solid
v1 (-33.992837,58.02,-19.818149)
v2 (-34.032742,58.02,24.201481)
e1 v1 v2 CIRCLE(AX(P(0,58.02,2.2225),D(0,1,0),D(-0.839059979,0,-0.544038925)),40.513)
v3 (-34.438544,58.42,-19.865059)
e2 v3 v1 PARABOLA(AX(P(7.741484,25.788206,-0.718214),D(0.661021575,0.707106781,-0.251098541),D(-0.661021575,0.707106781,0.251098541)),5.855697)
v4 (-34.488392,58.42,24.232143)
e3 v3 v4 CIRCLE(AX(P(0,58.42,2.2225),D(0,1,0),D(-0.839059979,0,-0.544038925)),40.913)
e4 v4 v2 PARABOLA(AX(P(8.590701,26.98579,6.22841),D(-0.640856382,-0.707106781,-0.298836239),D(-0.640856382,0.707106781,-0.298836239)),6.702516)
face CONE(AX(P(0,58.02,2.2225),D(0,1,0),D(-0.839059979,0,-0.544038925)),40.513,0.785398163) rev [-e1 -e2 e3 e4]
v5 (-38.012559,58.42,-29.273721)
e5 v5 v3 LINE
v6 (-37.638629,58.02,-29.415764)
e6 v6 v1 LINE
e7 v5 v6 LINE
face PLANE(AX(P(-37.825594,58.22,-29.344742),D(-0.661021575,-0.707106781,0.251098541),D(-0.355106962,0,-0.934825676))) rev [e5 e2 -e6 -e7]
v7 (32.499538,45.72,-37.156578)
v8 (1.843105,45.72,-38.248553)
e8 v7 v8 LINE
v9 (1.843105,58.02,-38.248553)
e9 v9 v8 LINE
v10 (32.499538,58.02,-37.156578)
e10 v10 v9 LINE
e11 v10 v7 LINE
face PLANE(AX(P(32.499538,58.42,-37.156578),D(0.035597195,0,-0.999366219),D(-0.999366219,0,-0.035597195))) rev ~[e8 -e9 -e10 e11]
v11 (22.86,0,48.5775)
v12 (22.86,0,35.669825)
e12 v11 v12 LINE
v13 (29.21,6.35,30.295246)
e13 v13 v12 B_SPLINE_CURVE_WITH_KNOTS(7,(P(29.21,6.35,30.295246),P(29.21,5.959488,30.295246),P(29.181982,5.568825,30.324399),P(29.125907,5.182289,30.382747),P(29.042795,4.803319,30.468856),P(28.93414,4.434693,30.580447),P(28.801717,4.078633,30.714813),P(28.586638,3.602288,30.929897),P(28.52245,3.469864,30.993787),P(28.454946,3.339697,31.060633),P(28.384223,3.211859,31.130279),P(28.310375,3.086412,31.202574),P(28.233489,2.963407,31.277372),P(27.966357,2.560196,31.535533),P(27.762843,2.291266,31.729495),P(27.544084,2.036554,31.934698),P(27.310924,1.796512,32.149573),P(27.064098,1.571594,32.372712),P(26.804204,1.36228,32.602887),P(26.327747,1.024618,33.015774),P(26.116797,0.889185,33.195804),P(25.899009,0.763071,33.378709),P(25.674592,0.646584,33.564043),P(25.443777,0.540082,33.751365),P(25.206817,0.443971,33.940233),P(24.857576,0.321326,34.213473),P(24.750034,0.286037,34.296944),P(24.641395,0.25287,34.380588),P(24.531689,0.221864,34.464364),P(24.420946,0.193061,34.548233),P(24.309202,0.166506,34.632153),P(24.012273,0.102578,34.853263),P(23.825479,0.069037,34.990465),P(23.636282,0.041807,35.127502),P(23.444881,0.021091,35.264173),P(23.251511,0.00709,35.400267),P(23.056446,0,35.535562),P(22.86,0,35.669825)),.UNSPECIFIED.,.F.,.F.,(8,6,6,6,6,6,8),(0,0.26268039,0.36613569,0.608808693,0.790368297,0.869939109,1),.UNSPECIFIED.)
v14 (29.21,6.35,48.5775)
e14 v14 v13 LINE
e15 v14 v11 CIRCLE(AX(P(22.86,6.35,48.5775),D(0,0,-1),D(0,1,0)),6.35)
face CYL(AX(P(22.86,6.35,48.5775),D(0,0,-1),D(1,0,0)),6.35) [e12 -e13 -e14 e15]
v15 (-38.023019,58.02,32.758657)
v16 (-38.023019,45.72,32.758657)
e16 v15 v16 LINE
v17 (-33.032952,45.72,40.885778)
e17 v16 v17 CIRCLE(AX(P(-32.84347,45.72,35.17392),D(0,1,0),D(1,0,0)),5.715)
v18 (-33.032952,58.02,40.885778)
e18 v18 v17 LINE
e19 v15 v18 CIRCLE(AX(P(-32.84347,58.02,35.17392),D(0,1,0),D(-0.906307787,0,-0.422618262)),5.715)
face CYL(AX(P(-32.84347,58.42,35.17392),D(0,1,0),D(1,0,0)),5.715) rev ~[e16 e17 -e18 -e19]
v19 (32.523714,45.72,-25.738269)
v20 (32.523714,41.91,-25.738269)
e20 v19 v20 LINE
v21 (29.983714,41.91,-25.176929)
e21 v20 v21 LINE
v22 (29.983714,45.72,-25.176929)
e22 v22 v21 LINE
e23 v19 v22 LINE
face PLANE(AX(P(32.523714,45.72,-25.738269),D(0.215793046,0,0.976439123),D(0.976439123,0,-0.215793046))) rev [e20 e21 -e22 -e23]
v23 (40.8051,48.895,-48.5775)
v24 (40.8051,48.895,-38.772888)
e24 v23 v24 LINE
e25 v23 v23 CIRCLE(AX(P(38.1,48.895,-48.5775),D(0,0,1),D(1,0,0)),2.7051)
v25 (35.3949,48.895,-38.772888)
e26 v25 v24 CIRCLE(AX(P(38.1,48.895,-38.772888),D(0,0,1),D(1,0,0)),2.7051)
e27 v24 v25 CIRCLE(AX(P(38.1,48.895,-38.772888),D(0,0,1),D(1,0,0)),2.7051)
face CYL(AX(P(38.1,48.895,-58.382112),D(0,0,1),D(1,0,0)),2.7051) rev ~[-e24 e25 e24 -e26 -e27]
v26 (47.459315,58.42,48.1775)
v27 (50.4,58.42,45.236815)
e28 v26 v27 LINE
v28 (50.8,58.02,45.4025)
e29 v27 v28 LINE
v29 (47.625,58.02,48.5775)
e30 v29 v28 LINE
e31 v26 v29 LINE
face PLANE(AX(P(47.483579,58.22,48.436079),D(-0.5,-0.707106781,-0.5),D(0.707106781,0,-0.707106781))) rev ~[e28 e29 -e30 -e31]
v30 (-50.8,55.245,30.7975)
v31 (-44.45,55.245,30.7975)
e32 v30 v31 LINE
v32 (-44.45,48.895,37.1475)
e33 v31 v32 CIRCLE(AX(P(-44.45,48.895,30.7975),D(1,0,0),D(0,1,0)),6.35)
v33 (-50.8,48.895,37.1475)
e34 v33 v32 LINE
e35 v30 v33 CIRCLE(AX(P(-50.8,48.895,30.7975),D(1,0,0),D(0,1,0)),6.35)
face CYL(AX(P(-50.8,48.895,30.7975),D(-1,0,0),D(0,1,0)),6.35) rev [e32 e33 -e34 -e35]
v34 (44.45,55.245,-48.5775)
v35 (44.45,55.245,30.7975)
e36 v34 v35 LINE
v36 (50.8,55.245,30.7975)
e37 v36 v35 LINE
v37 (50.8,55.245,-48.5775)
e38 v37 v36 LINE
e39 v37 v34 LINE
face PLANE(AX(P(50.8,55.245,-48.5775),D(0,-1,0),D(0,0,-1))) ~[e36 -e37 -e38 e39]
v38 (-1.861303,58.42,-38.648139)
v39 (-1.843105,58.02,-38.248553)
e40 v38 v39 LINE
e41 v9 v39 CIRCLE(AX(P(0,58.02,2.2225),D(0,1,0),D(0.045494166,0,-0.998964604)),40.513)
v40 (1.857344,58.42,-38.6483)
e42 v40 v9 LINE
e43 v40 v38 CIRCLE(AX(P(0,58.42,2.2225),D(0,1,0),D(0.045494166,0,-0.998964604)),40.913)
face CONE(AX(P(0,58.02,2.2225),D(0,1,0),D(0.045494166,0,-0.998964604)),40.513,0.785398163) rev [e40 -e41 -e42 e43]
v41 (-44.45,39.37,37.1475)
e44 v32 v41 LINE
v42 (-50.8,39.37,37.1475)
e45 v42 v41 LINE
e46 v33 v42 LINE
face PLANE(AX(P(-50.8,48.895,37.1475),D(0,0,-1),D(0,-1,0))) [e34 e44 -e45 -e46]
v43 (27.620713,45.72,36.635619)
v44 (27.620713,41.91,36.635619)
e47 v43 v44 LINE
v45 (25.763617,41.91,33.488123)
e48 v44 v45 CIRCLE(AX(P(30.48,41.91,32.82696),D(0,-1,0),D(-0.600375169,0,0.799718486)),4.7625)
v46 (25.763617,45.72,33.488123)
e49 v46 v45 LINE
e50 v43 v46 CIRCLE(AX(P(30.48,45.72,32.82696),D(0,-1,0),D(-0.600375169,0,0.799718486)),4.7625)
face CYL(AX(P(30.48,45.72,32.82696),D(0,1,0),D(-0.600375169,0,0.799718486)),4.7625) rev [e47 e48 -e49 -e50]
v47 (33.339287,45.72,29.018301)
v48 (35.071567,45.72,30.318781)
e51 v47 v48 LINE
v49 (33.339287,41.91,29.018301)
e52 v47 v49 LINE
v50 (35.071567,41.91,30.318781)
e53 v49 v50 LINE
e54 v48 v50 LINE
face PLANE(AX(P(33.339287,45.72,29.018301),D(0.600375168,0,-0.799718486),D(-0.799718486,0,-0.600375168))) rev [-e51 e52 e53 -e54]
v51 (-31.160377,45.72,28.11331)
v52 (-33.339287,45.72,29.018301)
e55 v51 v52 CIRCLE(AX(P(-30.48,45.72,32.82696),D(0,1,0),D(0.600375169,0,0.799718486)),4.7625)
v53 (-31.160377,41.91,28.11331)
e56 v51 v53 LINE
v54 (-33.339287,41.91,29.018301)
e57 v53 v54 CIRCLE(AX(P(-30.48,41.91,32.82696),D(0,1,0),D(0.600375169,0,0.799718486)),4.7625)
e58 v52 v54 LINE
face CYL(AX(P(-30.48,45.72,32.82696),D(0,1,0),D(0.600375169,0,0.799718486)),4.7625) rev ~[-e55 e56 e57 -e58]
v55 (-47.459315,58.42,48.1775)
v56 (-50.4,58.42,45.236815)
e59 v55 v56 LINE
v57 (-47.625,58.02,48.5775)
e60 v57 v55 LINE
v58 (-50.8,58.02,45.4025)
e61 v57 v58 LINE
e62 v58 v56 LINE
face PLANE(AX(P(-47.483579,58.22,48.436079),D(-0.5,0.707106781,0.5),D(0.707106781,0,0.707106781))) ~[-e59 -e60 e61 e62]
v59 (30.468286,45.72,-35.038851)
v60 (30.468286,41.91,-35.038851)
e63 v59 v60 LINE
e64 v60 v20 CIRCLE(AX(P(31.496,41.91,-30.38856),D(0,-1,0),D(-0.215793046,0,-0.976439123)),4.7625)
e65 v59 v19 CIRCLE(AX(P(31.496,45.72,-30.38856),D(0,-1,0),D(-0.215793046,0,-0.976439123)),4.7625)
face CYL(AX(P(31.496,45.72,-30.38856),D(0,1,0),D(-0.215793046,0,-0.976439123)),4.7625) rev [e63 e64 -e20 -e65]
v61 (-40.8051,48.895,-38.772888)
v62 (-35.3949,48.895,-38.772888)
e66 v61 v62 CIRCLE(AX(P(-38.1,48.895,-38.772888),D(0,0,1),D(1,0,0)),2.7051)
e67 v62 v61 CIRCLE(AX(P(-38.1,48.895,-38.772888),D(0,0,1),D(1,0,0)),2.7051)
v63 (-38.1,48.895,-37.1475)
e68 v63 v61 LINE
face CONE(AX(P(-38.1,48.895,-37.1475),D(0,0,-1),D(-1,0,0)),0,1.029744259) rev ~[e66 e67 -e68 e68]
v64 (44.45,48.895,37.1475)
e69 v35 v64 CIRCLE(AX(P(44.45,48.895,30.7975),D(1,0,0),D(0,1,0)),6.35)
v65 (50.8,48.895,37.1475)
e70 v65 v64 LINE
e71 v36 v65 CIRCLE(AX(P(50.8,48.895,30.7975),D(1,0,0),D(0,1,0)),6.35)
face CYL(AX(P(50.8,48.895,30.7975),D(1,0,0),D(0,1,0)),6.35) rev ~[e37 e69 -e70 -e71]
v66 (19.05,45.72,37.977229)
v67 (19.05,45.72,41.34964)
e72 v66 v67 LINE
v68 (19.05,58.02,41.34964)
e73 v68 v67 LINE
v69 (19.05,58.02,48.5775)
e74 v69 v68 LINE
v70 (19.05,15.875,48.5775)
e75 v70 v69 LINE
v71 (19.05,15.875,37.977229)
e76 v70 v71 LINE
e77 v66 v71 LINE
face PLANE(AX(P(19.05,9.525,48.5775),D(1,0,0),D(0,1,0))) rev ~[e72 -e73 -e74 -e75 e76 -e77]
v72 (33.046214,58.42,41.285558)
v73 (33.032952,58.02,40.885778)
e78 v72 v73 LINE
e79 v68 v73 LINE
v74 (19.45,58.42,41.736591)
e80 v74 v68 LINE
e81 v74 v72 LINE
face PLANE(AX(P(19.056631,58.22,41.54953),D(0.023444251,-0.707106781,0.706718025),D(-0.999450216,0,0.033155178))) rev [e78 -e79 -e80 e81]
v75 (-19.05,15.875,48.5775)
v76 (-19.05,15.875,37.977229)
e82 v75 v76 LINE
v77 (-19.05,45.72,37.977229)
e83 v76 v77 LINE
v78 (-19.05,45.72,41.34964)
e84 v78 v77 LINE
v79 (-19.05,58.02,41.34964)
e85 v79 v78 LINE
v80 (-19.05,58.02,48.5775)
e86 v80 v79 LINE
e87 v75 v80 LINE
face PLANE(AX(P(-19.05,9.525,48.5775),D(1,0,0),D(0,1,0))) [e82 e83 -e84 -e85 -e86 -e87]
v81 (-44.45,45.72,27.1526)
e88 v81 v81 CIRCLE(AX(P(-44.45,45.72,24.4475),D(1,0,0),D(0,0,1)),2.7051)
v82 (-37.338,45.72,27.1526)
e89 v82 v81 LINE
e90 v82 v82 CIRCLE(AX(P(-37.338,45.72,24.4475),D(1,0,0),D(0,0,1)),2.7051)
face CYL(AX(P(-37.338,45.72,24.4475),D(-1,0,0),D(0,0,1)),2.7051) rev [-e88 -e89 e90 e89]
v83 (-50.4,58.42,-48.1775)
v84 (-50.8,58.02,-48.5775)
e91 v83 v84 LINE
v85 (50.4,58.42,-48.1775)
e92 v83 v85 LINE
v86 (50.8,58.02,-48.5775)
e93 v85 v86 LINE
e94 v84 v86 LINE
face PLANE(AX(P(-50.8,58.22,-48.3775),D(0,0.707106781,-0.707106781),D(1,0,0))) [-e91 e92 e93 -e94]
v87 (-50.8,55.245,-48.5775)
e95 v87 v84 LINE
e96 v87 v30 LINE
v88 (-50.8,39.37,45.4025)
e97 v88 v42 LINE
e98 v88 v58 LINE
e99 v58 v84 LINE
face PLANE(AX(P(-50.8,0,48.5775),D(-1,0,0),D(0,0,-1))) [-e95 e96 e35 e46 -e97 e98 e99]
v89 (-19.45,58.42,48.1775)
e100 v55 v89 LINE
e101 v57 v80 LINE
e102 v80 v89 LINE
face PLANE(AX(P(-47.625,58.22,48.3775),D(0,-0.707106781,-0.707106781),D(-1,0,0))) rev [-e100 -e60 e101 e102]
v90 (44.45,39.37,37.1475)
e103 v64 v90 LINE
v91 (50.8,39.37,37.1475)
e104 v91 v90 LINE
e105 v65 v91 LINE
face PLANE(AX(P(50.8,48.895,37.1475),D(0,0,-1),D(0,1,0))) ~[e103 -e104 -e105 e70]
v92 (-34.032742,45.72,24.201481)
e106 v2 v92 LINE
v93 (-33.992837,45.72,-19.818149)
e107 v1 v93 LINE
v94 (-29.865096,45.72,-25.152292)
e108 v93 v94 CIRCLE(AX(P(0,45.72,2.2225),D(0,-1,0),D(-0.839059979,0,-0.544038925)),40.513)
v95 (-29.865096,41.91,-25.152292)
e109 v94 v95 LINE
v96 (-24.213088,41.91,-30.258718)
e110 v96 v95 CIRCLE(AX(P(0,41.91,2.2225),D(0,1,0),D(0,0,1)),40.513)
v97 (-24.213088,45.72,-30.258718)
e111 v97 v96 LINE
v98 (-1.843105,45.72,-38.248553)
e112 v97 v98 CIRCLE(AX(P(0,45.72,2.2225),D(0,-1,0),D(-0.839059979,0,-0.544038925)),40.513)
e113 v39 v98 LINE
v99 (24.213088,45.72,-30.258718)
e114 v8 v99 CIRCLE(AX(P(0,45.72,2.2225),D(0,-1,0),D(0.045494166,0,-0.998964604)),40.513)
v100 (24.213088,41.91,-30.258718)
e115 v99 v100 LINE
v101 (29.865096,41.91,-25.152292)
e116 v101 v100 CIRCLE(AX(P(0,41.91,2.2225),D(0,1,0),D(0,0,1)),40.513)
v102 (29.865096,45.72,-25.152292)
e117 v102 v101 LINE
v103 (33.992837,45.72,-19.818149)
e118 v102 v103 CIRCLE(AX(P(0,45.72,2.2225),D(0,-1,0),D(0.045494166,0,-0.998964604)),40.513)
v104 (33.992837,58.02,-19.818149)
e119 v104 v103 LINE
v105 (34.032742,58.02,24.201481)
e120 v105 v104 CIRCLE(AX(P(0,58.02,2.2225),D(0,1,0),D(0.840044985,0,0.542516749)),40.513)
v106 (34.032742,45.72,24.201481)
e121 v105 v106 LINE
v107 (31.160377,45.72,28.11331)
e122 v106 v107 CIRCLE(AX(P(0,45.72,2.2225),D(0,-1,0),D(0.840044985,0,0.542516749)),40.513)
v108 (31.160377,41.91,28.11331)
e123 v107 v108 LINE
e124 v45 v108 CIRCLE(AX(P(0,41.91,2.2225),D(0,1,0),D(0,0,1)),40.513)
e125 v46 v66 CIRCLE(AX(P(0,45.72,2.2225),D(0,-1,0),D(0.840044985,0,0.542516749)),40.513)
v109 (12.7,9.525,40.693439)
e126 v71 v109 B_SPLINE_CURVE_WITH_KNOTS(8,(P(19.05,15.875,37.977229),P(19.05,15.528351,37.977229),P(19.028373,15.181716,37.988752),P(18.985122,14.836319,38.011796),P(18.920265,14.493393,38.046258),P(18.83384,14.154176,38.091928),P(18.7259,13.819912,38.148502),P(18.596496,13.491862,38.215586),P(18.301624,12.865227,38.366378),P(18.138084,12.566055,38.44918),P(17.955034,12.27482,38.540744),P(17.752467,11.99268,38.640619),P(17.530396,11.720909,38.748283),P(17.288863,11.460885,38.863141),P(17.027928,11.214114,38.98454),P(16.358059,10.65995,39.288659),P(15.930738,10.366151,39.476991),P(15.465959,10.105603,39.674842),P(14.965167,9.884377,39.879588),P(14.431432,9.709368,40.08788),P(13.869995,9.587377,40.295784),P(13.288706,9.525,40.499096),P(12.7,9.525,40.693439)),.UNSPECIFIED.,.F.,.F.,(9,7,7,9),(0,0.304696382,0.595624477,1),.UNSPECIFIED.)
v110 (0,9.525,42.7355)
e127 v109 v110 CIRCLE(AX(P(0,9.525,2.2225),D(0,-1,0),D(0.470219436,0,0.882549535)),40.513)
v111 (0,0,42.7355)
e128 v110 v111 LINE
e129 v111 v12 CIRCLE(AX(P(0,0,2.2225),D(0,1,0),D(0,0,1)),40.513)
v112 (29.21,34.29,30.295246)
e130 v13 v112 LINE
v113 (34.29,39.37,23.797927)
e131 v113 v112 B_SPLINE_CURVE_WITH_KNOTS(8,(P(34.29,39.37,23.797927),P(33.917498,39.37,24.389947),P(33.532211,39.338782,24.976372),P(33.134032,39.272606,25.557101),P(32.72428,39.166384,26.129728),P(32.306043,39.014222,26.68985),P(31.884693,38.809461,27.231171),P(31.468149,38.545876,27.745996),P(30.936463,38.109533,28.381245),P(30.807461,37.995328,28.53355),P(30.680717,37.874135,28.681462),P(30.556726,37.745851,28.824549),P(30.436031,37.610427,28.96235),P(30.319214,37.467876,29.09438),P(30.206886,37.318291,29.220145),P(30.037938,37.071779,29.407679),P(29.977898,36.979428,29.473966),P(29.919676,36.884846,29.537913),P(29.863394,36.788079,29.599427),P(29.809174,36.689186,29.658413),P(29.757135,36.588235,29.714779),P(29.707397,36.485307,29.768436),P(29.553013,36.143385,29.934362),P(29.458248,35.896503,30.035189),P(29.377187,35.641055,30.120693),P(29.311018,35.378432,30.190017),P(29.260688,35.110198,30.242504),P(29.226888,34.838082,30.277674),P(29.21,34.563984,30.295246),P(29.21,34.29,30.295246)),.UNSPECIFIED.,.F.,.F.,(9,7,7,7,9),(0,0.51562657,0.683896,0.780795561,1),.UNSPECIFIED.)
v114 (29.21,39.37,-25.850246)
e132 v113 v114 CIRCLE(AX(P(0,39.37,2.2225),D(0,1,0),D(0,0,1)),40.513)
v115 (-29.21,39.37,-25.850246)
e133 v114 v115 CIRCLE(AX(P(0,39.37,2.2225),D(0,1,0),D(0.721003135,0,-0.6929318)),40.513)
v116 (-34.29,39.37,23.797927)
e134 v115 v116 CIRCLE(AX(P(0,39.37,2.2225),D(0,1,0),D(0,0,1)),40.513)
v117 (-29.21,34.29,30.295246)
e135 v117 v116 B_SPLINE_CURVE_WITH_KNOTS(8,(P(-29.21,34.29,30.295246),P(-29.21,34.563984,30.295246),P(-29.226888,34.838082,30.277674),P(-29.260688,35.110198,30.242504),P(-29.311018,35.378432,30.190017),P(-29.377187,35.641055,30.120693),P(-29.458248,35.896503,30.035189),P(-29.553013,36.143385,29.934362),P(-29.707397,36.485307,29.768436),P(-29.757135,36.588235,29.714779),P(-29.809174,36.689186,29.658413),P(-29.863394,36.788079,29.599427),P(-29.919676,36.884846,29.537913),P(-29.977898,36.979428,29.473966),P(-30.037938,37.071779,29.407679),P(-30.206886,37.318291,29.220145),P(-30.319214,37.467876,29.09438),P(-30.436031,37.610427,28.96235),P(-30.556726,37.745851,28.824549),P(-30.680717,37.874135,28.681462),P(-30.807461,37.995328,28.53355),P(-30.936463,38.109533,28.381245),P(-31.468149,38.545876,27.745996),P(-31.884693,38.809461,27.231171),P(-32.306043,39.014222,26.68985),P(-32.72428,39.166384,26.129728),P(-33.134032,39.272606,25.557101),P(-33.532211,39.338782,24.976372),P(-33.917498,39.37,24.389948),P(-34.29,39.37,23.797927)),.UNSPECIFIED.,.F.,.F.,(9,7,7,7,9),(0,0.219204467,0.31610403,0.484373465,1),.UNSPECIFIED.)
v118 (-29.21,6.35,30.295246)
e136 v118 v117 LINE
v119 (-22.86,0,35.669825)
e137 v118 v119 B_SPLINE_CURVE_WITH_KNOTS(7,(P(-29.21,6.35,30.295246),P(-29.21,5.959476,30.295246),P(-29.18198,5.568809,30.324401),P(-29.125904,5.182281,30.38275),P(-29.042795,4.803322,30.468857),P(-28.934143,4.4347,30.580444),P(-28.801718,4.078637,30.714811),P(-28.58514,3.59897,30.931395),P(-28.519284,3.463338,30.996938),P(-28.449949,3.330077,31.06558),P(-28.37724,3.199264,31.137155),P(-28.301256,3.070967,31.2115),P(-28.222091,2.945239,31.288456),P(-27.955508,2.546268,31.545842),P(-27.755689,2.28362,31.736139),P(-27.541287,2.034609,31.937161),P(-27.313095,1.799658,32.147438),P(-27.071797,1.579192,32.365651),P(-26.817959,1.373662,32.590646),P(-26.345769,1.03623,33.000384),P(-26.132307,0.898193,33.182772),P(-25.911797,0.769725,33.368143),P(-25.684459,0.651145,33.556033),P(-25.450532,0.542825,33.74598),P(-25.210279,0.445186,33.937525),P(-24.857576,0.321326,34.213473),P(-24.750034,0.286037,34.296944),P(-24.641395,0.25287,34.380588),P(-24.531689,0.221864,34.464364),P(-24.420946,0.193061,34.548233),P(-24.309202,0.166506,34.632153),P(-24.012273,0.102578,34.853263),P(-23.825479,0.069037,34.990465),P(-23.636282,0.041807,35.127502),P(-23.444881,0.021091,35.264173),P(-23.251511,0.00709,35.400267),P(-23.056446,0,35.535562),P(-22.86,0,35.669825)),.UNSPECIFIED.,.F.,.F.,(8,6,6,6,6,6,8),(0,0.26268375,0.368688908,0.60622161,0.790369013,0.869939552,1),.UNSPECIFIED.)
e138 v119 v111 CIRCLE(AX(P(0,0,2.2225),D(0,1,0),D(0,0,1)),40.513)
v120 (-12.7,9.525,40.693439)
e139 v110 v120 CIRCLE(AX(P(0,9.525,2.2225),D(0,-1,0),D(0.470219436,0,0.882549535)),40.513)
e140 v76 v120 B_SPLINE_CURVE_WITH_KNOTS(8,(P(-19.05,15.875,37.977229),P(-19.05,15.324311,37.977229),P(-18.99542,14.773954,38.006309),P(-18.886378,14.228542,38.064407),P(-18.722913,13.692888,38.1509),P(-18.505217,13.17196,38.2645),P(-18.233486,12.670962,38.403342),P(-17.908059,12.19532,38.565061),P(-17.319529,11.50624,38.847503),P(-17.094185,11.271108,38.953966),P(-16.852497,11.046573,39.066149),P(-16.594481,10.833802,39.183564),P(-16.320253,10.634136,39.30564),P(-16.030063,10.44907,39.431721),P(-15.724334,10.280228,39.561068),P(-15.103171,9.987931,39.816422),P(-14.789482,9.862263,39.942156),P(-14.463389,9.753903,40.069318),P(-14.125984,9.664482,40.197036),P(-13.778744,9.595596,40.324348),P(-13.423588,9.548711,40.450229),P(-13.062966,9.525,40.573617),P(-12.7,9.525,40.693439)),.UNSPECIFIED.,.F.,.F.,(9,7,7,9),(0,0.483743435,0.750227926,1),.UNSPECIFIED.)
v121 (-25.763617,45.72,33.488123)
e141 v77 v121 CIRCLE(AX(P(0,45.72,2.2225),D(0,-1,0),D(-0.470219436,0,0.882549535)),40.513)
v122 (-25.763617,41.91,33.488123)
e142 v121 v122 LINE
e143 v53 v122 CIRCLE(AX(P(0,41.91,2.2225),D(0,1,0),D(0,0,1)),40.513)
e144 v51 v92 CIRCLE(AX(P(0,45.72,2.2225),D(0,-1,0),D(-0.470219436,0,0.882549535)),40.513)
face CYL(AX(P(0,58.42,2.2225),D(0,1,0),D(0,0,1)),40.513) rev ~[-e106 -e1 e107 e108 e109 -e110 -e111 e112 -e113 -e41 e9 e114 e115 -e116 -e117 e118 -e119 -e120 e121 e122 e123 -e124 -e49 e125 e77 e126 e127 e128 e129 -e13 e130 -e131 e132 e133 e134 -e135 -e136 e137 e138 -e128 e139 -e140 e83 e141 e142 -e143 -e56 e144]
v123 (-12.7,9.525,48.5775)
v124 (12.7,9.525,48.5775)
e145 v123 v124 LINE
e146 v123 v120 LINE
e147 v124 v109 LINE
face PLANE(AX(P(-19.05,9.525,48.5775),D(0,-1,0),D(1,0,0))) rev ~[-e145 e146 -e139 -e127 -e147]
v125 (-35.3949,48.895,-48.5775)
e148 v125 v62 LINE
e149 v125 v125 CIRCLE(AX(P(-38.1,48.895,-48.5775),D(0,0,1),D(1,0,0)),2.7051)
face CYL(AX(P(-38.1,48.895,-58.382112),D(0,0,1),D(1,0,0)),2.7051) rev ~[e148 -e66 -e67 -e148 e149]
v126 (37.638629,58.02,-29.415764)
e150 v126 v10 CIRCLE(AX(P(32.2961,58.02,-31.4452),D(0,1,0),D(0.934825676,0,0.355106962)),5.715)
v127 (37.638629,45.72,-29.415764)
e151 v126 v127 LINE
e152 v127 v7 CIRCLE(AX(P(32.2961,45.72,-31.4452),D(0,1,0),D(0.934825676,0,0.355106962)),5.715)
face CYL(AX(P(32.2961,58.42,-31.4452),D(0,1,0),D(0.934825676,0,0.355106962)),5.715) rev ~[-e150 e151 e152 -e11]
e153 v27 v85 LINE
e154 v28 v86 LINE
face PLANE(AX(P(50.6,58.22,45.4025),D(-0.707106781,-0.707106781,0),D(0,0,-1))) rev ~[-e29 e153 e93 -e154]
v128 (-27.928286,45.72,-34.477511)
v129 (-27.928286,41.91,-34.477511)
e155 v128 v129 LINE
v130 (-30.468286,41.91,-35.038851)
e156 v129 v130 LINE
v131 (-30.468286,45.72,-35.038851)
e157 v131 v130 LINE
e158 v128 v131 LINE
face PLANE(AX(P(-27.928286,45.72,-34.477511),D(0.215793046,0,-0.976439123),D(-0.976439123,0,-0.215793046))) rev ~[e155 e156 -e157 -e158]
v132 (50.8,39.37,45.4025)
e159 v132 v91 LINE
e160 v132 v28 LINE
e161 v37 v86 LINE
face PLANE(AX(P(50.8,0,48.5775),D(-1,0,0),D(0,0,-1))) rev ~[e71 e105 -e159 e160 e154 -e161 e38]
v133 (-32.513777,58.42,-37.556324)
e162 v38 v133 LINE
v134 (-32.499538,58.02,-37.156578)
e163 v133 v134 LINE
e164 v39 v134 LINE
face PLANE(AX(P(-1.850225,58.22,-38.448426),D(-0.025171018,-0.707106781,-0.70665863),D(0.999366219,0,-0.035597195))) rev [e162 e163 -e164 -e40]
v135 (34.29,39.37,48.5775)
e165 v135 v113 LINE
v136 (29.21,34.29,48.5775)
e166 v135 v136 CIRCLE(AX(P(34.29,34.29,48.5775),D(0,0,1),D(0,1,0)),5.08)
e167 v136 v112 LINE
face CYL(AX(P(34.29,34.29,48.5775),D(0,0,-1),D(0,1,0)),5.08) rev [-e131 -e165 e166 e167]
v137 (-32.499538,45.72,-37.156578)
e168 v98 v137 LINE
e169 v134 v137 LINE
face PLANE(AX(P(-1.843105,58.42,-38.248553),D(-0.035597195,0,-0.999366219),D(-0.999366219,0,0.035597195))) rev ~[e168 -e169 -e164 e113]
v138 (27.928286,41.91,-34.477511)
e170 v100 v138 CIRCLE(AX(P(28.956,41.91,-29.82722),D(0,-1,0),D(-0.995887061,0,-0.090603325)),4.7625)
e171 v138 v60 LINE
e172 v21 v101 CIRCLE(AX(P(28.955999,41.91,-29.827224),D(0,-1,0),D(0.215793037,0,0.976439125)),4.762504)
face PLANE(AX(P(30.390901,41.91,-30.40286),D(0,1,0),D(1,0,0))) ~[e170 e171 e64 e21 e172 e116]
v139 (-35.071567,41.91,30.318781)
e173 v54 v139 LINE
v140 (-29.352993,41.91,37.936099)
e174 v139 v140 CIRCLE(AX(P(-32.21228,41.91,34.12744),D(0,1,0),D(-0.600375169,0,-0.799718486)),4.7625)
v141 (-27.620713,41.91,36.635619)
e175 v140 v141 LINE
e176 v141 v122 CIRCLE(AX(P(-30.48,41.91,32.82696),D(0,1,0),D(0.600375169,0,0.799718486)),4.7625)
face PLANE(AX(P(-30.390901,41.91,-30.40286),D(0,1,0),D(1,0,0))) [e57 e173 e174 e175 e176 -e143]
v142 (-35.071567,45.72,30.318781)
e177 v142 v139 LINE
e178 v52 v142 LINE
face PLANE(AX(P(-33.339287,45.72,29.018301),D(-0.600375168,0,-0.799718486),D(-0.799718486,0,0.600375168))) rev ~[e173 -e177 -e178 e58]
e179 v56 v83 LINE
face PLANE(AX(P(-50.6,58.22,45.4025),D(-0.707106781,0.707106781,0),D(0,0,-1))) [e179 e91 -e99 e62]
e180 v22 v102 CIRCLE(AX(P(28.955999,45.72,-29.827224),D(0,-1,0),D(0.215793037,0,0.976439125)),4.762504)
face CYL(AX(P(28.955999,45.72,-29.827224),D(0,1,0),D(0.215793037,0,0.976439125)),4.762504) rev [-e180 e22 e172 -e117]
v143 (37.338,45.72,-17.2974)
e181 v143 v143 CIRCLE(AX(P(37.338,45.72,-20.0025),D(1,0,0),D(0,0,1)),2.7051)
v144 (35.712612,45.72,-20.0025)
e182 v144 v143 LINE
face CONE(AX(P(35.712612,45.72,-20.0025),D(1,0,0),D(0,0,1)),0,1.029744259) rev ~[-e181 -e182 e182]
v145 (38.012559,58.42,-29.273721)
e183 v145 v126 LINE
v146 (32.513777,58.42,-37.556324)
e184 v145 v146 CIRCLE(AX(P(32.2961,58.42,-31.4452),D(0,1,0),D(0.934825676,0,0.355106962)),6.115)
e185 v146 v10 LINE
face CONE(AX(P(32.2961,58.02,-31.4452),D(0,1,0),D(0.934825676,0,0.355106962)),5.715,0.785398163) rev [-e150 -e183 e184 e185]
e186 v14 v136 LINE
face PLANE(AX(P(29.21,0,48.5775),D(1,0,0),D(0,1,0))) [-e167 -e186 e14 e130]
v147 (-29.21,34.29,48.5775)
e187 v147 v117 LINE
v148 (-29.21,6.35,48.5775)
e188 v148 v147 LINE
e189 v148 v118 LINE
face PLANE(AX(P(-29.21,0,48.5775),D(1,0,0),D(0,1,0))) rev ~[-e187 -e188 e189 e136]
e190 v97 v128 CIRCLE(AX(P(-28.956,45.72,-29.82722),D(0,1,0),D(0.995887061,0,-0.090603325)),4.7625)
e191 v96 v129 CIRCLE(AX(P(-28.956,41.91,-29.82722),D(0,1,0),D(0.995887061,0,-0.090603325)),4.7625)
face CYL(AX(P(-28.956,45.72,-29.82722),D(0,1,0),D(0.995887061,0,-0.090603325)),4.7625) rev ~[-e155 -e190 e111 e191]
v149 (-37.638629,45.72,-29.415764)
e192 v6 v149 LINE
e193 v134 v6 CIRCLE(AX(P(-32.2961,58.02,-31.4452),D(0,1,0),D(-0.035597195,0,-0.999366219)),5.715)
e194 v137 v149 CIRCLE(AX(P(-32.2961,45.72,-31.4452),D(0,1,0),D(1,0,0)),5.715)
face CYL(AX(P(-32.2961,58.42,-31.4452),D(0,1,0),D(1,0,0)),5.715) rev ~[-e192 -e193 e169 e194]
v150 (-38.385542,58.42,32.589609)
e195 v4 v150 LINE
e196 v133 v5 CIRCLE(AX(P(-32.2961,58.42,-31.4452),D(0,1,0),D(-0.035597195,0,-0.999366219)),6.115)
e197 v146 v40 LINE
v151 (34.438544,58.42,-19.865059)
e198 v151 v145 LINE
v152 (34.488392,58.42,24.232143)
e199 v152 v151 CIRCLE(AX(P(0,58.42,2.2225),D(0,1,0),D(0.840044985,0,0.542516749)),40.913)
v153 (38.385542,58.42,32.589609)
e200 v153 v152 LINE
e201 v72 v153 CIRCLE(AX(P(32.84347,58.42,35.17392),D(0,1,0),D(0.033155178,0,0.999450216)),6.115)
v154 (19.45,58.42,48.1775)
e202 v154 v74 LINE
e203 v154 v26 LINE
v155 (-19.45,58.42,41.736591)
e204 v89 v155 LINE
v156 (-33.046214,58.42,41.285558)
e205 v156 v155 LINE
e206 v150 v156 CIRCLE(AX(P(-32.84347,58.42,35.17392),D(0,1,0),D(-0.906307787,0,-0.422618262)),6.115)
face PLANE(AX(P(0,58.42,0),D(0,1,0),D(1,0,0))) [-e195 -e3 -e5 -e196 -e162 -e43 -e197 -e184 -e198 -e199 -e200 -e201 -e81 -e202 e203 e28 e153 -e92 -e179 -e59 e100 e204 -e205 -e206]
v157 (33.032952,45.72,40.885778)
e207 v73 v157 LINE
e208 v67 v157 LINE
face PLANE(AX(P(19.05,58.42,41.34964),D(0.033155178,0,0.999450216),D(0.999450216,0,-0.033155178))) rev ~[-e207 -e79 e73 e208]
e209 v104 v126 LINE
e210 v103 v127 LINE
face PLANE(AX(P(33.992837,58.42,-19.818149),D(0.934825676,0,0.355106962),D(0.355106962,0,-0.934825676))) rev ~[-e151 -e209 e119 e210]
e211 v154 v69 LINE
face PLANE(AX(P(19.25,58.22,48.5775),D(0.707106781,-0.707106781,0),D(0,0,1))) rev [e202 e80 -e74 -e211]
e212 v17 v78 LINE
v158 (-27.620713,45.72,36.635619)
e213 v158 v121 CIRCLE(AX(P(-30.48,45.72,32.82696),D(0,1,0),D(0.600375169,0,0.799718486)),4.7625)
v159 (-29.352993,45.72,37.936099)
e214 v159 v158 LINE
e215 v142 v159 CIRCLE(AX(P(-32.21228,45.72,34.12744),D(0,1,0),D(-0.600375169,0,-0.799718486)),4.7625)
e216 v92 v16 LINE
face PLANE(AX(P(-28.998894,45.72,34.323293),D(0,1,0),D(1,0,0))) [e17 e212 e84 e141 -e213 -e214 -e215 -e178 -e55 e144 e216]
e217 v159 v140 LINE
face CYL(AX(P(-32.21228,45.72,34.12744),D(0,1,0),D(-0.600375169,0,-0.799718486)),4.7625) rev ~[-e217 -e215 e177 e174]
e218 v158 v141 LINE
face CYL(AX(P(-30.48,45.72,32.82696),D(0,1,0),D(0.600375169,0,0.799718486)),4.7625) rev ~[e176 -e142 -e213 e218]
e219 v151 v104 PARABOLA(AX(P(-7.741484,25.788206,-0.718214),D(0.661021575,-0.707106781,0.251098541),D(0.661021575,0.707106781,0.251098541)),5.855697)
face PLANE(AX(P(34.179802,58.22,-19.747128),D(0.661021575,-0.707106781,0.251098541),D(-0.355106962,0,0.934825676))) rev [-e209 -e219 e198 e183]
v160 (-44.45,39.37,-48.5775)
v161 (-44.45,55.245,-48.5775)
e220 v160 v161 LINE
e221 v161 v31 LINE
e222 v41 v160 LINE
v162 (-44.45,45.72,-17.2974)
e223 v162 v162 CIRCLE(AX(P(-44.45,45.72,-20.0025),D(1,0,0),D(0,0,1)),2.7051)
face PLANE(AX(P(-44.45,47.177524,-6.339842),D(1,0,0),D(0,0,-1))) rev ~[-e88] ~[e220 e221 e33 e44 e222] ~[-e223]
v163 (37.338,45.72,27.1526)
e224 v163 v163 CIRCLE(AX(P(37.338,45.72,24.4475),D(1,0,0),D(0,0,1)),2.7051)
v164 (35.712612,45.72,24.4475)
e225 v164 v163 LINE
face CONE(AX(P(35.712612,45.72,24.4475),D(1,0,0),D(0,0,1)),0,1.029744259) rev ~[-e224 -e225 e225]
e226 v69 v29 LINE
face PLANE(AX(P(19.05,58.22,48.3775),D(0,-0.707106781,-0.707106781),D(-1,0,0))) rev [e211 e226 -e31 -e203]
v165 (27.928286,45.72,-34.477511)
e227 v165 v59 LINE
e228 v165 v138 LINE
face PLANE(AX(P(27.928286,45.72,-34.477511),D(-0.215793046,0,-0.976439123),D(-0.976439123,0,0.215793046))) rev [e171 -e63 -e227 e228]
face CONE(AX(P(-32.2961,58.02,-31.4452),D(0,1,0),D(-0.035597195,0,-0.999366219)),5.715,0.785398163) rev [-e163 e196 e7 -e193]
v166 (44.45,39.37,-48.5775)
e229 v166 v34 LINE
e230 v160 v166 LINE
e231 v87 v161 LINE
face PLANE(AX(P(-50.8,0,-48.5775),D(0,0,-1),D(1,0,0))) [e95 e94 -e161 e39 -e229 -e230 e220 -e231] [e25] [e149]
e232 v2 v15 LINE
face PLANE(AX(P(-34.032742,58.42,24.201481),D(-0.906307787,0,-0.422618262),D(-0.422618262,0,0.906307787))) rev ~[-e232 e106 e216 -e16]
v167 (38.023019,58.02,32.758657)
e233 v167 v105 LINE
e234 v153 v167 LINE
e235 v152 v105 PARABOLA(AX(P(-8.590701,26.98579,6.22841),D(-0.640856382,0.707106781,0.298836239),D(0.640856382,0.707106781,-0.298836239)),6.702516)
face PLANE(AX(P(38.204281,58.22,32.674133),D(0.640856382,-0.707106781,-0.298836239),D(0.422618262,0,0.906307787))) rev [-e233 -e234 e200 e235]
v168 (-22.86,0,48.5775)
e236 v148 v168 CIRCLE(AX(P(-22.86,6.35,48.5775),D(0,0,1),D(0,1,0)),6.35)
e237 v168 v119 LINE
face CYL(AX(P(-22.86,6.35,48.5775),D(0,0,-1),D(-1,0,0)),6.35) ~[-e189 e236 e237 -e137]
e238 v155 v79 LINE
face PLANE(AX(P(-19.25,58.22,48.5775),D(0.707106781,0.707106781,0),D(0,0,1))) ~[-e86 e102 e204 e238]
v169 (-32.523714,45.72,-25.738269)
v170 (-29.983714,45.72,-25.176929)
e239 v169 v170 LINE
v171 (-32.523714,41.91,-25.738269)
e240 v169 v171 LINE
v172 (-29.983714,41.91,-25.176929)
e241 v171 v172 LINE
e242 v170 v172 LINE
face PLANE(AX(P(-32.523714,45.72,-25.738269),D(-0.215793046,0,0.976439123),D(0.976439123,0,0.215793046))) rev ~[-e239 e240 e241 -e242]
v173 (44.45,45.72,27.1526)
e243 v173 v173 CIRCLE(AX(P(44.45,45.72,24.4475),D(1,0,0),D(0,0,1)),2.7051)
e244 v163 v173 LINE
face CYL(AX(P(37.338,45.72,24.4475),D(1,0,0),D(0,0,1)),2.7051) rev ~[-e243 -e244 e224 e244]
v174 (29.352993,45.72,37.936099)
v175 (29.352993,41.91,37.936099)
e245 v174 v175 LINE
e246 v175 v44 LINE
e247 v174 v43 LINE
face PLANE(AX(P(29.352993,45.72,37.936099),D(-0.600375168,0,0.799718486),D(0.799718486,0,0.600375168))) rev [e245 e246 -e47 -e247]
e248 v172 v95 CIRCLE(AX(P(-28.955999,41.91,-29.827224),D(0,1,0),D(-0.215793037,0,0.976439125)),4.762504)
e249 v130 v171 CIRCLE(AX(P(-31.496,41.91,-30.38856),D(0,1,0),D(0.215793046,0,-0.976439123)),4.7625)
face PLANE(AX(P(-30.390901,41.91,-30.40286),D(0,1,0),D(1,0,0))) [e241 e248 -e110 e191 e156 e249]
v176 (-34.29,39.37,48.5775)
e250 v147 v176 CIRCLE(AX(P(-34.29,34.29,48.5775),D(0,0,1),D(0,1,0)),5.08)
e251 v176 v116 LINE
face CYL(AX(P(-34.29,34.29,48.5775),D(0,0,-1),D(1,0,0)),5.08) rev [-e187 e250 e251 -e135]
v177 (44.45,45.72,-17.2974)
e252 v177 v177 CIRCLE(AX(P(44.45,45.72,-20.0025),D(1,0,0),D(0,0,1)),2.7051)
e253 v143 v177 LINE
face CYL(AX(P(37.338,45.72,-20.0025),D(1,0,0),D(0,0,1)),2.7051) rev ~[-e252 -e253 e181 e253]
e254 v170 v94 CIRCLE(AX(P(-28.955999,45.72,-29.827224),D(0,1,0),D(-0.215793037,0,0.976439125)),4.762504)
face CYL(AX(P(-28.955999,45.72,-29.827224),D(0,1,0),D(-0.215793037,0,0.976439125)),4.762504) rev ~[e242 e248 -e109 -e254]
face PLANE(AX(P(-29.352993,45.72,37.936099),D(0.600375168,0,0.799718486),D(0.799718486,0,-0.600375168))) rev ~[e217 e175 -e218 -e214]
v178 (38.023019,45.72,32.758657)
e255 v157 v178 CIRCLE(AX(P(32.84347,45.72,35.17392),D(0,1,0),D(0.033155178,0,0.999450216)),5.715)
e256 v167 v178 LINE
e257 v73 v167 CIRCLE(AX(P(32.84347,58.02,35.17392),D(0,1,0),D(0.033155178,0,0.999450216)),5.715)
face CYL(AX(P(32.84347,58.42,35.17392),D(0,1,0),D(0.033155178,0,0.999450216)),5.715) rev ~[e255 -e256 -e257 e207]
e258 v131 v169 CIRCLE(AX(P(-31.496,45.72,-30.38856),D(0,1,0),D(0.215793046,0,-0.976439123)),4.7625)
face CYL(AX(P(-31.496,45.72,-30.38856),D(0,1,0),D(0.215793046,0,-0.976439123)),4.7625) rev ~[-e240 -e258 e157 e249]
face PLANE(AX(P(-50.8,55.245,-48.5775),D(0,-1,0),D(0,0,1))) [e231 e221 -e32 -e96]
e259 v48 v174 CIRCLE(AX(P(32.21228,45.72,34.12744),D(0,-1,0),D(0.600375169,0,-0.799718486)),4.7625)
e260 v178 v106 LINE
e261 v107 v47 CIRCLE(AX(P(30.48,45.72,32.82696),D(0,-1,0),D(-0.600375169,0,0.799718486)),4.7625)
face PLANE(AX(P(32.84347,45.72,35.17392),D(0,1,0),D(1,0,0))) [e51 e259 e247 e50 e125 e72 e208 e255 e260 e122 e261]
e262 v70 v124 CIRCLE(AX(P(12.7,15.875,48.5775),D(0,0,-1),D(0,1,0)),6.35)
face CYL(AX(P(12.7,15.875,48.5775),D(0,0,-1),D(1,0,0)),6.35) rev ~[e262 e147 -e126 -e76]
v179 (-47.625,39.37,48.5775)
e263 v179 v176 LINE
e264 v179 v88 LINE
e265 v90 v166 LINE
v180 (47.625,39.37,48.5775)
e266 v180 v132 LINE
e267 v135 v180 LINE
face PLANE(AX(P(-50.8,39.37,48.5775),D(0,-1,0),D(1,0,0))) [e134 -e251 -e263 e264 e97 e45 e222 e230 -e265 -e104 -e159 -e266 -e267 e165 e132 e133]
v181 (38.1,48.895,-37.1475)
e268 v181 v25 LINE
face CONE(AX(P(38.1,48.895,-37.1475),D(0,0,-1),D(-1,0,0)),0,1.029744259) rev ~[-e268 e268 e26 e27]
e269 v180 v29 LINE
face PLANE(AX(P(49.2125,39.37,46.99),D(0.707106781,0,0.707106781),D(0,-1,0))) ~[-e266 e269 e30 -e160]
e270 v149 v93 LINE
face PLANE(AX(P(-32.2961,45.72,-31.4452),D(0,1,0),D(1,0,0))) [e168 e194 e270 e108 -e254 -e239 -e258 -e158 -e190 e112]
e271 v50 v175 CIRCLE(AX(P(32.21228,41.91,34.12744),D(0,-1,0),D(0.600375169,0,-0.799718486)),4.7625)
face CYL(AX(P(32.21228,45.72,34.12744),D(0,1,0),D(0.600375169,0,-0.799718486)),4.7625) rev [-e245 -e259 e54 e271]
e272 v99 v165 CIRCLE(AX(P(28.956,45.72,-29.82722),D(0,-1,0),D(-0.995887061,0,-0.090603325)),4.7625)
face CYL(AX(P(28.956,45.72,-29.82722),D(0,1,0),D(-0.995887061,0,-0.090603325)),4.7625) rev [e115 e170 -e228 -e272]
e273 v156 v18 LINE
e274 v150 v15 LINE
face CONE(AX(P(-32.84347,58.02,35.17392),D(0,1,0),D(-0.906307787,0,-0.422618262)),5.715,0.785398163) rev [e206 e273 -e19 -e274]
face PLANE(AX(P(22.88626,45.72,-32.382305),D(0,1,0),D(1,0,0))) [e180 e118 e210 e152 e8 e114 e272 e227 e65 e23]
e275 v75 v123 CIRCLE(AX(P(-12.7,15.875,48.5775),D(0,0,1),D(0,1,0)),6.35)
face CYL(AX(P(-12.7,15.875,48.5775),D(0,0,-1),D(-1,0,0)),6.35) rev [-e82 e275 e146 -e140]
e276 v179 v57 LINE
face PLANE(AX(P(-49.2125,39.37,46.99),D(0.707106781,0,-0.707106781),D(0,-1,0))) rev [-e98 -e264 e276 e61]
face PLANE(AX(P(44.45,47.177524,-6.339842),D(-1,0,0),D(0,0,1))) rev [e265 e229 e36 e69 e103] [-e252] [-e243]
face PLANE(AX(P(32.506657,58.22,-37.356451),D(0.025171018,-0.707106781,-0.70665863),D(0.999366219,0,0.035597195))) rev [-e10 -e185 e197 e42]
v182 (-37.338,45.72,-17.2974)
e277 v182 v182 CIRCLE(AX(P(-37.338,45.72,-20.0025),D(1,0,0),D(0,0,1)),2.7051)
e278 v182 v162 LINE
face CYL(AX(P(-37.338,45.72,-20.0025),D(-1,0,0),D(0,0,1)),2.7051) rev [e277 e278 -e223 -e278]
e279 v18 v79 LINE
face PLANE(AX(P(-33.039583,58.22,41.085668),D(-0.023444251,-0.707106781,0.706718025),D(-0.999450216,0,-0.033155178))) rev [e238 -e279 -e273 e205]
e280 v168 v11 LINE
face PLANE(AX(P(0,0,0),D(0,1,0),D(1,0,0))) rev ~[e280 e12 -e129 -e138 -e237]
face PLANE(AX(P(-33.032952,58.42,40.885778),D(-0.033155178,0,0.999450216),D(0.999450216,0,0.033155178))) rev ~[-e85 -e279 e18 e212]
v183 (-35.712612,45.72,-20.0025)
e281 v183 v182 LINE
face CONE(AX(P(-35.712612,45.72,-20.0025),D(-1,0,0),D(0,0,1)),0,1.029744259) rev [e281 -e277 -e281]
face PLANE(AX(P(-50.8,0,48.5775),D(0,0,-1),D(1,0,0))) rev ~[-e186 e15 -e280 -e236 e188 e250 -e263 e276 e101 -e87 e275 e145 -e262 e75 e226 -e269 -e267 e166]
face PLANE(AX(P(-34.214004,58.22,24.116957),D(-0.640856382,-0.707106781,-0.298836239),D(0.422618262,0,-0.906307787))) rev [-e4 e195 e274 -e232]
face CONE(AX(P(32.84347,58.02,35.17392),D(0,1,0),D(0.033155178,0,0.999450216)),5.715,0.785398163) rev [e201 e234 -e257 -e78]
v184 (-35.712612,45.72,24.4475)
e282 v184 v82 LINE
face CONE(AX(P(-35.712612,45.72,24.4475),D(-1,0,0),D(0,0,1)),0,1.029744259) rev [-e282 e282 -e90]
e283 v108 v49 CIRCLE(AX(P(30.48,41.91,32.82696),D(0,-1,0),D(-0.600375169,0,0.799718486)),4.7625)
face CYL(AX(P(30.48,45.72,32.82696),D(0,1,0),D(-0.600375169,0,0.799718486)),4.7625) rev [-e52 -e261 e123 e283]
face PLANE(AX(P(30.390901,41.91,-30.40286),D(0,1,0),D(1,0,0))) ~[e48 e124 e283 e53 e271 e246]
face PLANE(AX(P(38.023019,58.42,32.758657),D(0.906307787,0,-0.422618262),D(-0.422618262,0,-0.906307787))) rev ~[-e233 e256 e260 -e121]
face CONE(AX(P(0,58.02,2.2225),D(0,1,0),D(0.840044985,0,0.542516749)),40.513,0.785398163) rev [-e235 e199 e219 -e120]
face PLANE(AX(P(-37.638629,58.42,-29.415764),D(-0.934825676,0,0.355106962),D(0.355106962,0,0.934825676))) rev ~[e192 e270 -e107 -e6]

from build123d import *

# Parameters (mm, degrees)
SKETCH1_W                            = 101.6
SKETCH1_H                            = 97.155
BOSS_EXTRUDE1_DEPTH                  = 58.42
SKETCH2_W                            = 21.59
SKETCH2_H                            = 39.37
CUT_EXTRUDE1_DEPTH                   = 125.22813862
SKETCH3_R                            = 40.513
CUT_EXTRUDE2_DEPTH                   = 92.396443619
CUT_EXTRUDE3_START                   = -39.37
CUT_EXTRUDE3_DEPTH                   = 39.37
CUT_EXTRUDE4_REACH                   = 126.228
CUT_EXTRUDE4_END_RADIUS              = 40.513
SKETCH5_W                            = 38.1
SKETCH5_H                            = 48.895
FILLET1_R                            = 6.35
FILLET2_R                            = 5.08
CHAMFER1_SIZE                        = 3.175
CUT_EXTRUDE5_DEPTH                   = 6.35
TAP_DRILL_FOR_1_4_28_TAP1_AT_2_COUNT = 2
TAP_DRILL_FOR_1_4_28_TAP1_AT_2_PITCH = 44.45
TAP_DRILL_FOR_1_4_28_TAP2_D          = 5.4102
TAP_DRILL_FOR_1_4_28_TAP2_DEPTH      = 9.804611939
TAP_DRILL_FOR_1_4_28_TAP2_TIP        = 1.625388061
SKETCH12_R                           = 5.715
CUT_EXTRUDE6_DEPTH                   = 12.7
SKETCH13_R                           = 40.513
CUT_EXTRUDE7_DEPTH                   = 3.81
CHAMFER2_SIZE                        = 0.4


with BuildPart() as part:
    # Sketch1 → Boss-Extrude1 (new body)
    with BuildSketch(Plane(origin=(0, 0, 0), x_dir=(1, 0, 0), z_dir=(0, 1, 0))):
        Rectangle(SKETCH1_W, SKETCH1_H)
    extrude(amount=BOSS_EXTRUDE1_DEPTH)

    # Sketch2 → Cut-Extrude1 (cut, through all)
    with BuildSketch(Plane.XY.offset(48.5775)):
        with Locations((-40.005, 19.685)):
            Rectangle(SKETCH2_W, SKETCH2_H)
        with Locations((40.005, 19.685)):
            Rectangle(SKETCH2_W, SKETCH2_H)
    extrude(amount=-CUT_EXTRUDE1_DEPTH, mode=Mode.SUBTRACT)

    # Sketch3 → Cut-Extrude2 (cut, through all)
    with BuildSketch(Plane(origin=(0, 58.42, 0), x_dir=(1, 0, 0), z_dir=(0, 1, 0))):
        with Locations(Location((0, -2.2225, 0), (0, 0, 270))):
            Circle(SKETCH3_R)
    extrude(amount=-CUT_EXTRUDE2_DEPTH, mode=Mode.SUBTRACT)

    # Sketch4 → Cut-Extrude3 (cut)
    with BuildSketch(Plane.XZ.offset(CUT_EXTRUDE3_START)):
        with BuildLine():
            Line((-29.21, -25.850246018), (-29.21, -48.5775))
            Line((-29.21, -48.5775), (29.21, -48.5775))
            Line((29.21, -48.5775), (29.21, -25.850246018))
            ThreePointArc((29.21, -25.850246018), (0, -38.2905), (-29.21, -25.850246018))
        make_face()
    extrude(amount=CUT_EXTRUDE3_DEPTH, mode=Mode.SUBTRACT)

    # Cut-Extrude4: up to this cylinder (the profile starts outside it)
    cut_extrude4_end = Plane(origin=(0, 33.9725, 2.2225), z_dir=(0, 1, 0)) * Cylinder(CUT_EXTRUDE4_END_RADIUS, 334.482, mode=Mode.PRIVATE)
    # Sketch5 → Cut-Extrude4 (cut, up to the surface)
    with BuildSketch(Plane.XY.offset(48.5775), mode=Mode.PRIVATE) as cut_extrude4_sk1:
        with Locations((0, 33.9725)):
            Rectangle(SKETCH5_W, SKETCH5_H)
    cut_extrude4_tool1 = extrude(cut_extrude4_sk1.sketch, amount=-CUT_EXTRUDE4_REACH, mode=Mode.PRIVATE) - cut_extrude4_end
    add(cut_extrude4_tool1.solids().sort_by_distance((0, 33.9725, 48.5775))[0], mode=Mode.SUBTRACT)

    # Fillet1
    fillet1_edges = [part.edges().sort_by_distance(p)[0] for p in [
        (-29.21, 0, 39.436373009),
        (29.21, 0, 39.436373009),
        (-19.05, 9.525, 43.277364662),
        (19.05, 9.525, 43.277364662),
    ]]
    fillet(fillet1_edges, radius=FILLET1_R)

    # Fillet2
    fillet2_edges = [part.edges().sort_by_distance(p)[0] for p in [
        (-29.21, 39.37, 39.436373009),
        (29.21, 39.37, 39.436373009),
    ]]
    fillet(fillet2_edges, radius=FILLET2_R)

    # Chamfer1
    chamfer1_edges = [part.edges().sort_by_distance(p)[0] for p in [
        (50.8, 48.895, 48.5775),
        (-50.8, 48.895, 48.5775),
    ]]
    chamfer(chamfer1_edges, length=CHAMFER1_SIZE)

    # Sketch6 → Cut-Extrude5 (cut)
    with BuildSketch(Plane.ZY.offset(50.8)):
        with BuildLine():
            Line((-48.5775, 55.245), (30.7975, 55.245))
            ThreePointArc((30.7975, 55.245), (35.287628061, 53.385128061), (37.1475, 48.895))
            Line((37.1475, 48.895), (37.1475, 39.37))
            Line((37.1475, 39.37), (-48.5775, 39.37))
            Line((-48.5775, 39.37), (-48.5775, 55.245))
        make_face()
    cut_extrude5 = extrude(amount=-CUT_EXTRUDE5_DEPTH, mode=Mode.SUBTRACT)

    # Sketch8 → Tap Drill for 1/4-28 Tap1 (revolve, cut)
    with BuildSketch(Plane(origin=(-44.45, 45.72, -20.0025), x_dir=(0, 0, 1), z_dir=(0, 1, 0))):
        Polygon((0, 0), (0, 8.737388061), (2.7051, 7.112), (2.7051, 0), align=None)
    tap_drill_for_1_4_28_tap1 = revolve(axis=Axis((-50.8, 45.72, -20.0025), (1, 0, 0)), mode=Mode.SUBTRACT)

    # Tap Drill for 1/4-28 Tap1 at 2: Tap Drill for 1/4-28 Tap1 ×2
    with Locations(*[(0, 0, i * TAP_DRILL_FOR_1_4_28_TAP1_AT_2_PITCH) for i in range(1, TAP_DRILL_FOR_1_4_28_TAP1_AT_2_COUNT)]):
        add(tap_drill_for_1_4_28_tap1, mode=Mode.SUBTRACT)

    # Tap Drill for 1/4-28 Tap2
    with Locations(Plane(origin=(38.1, 48.895, -48.5775), x_dir=(-1, 0, 0), z_dir=(0, 0, -1))):
        with Locations((0, 0), (76.2, 0)):
            Hole(TAP_DRILL_FOR_1_4_28_TAP2_D / 2, depth=TAP_DRILL_FOR_1_4_28_TAP2_DEPTH)
            with Locations((0, 0, -(TAP_DRILL_FOR_1_4_28_TAP2_DEPTH + TAP_DRILL_FOR_1_4_28_TAP2_TIP / 2))):  # 118° drill point
                Cone(0, TAP_DRILL_FOR_1_4_28_TAP2_D / 2, TAP_DRILL_FOR_1_4_28_TAP2_TIP, mode=Mode.SUBTRACT)

    # Sketch12 → Cut-Extrude6 (cut)
    with BuildSketch(Plane(origin=(0, 58.42, 0), x_dir=(1, 0, 0), z_dir=(0, 1, 0))):
        with Locations((-32.2961, 31.4452)):
            Circle(SKETCH12_R)
        with BuildLine():
            ThreePointArc((-33.992836913, 19.818148984), (-20.14878741, 32.924755012), (-1.84310515, 38.248553018))
            Line((-1.84310515, 38.248553018), (-32.499537967, 37.156577942))
            ThreePointArc((-32.499537967, 37.156577942), (-28.327562674, 35.55761249), (-26.5811, 31.4452))
            ThreePointArc((-26.5811, 31.4452), (-31.264433085, 25.824089044), (-37.638628741, 29.41576371))
            Line((-37.638628741, 29.41576371), (-33.992836913, 19.818148984))
        make_face()
        with BuildLine():
            Line((32.499537967, 37.156577942), (1.84310515, 38.248553018))
            ThreePointArc((1.84310515, 38.248553018), (20.14878741, 32.924755012), (33.992836913, 19.818148984))
            Line((33.992836913, 19.818148984), (37.638628741, 29.41576371))
            ThreePointArc((37.638628741, 29.41576371), (27.534851432, 28.284229093), (32.499537967, 37.156577942))
        make_face()
        with Locations((32.2961, 31.4452)):
            Circle(SKETCH12_R)
        with Locations((32.84347, -35.17392)):
            Circle(SKETCH12_R)
        with BuildLine():
            Line((38.023019003, -32.758656634), (34.032742491, -24.20148104))
            ThreePointArc((34.032742491, -24.20148104), (27.420561588, -32.045577829), (19.05, -37.977229324))
            Line((19.05, -37.977229324), (19.05, -41.349640271))
            Line((19.05, -41.349640271), (33.032951844, -40.885777984))
            ThreePointArc((33.032951844, -40.885777984), (27.973239162, -32.183589486), (38.023019003, -32.758656634))
        make_face()
        with BuildLine():
            ThreePointArc((-19.05, -37.977229324), (-27.420561588, -32.045577829), (-34.032742491, -24.20148104))
            Line((-34.032742491, -24.20148104), (-38.023019003, -32.758656634))
            ThreePointArc((-38.023019003, -32.758656634), (-31.606517606, -29.594388319), (-27.12847, -35.17392))
            ThreePointArc((-27.12847, -35.17392), (-28.869911377, -39.281480939), (-33.032951844, -40.885777984))
            Line((-33.032951844, -40.885777984), (-19.05, -41.349640271))
            Line((-19.05, -41.349640271), (-19.05, -37.977229324))
        make_face()
        with Locations((-32.84347, -35.17392)):
            Circle(SKETCH12_R)
    extrude(amount=-CUT_EXTRUDE6_DEPTH, mode=Mode.SUBTRACT)

    # Sketch13 → Cut-Extrude7 (cut)
    with BuildSketch(Plane(origin=(0, 45.72, 0), x_dir=(1, 0, 0), z_dir=(0, 1, 0))):
        with BuildLine():
            Line((-27.928285617, 34.477511324), (-30.468285617, 35.038851324))
            ThreePointArc((-30.468285617, 35.038851324), (-36.146291324, 31.416274383), (-32.523714383, 25.738268676))
            Line((-32.523714383, 25.738268676), (-29.983714383, 25.176928676))
            ThreePointArc((-29.983714383, 25.176928676), (-29.924483296, 25.164233151), (-29.865095524, 25.152292024))
            ThreePointArc((-29.865095524, 25.152292024), (-27.159369973, 27.838634238), (-24.213087874, 30.258718336))
            ThreePointArc((-24.213087874, 30.258718336), (-25.381844695, 32.974730144), (-27.928285617, 34.477511324))
        make_face()
        with Locations(Location((0, -2.2225, 0), (0, 0, 288.269054449))):
            Circle(SKETCH13_R)
        with BuildLine():
            ThreePointArc((-27.62071326, -36.63561929), (-26.67134071, -29.96767326), (-33.33928674, -29.01830071))
            Line((-33.33928674, -29.01830071), (-35.07156674, -30.31878071))
            ThreePointArc((-35.07156674, -30.31878071), (-36.02093929, -36.98672674), (-29.35299326, -37.93609929))
            Line((-29.35299326, -37.93609929), (-27.62071326, -36.63561929))
        make_face()
    cut_extrude7 = extrude(amount=-CUT_EXTRUDE7_DEPTH, mode=Mode.SUBTRACT)

    # Mirror1: Cut-Extrude5, Tap Drill for 1/4-28 Tap1, Cut-Extrude7 across plane
    add(cut_extrude5.mirror(Plane(origin=(0, 0, 0), x_dir=(0, 0, 1), z_dir=(1, 0, 0))), mode=Mode.SUBTRACT)
    add(tap_drill_for_1_4_28_tap1.mirror(Plane(origin=(0, 0, 0), x_dir=(0, 0, 1), z_dir=(1, 0, 0))), mode=Mode.SUBTRACT)
    add(cut_extrude7.mirror(Plane(origin=(0, 0, 0), x_dir=(0, 0, 1), z_dir=(1, 0, 0))), mode=Mode.SUBTRACT)

    # Mirror1 copy 1 sketch → Mirror1 copy 1 (revolve, cut)
    with BuildSketch(Plane(origin=(44.45, 45.72, 24.4475), x_dir=(0, 0, 1), z_dir=(0, 1, 0))):
        Polygon((0, 0), (0, -8.737388061), (2.7051, -7.112), (2.7051, 0), align=None)
    revolve(axis=Axis((50.8, 45.72, 24.4475), (1, 0, 0)), mode=Mode.SUBTRACT)

    # Chamfer2
    chamfer2_edges = [part.edges().sort_by_distance(p)[0] for p in [
        (50.8, 58.42, -1.5875),
        (-33.3375, 58.42, 48.5775),
        (-49.2125, 58.42, 46.99),
        (49.2125, 58.42, 46.99),
        (0, 58.42, -48.5775),
        (19.05, 58.42, 44.963570135),
        (-19.05, 58.42, 44.963570135),
        (40.512983353, 58.42, 2.185773339),
        (0, 58.42, -38.2905),
        (-40.512983353, 58.42, 2.185773339),
        (-36.027880747, 58.42, 28.480068837),
        (-37.713700838, 58.42, 38.164250514),
        (-26.041475922, 58.42, 41.117709128),
        (37.713700838, 58.42, 38.164250514),
        (36.027880747, 58.42, 28.480068837),
        (26.041475922, 58.42, 41.117709128),
        (17.171321559, 58.42, -37.70256548),
        (35.815732827, 58.42, -24.616956347),
        (37.057348568, 58.42, -34.606170907),
        (-35.815732827, 58.42, -24.616956347),
        (-37.057348568, 58.42, -34.606170907),
        (-17.171321559, 58.42, -37.70256548),
        (-50.8, 58.42, -1.5875),
        (33.3375, 58.42, 48.5775),
    ]]
    chamfer(chamfer2_edges, length=CHAMFER2_SIZE)


solid = part.part
